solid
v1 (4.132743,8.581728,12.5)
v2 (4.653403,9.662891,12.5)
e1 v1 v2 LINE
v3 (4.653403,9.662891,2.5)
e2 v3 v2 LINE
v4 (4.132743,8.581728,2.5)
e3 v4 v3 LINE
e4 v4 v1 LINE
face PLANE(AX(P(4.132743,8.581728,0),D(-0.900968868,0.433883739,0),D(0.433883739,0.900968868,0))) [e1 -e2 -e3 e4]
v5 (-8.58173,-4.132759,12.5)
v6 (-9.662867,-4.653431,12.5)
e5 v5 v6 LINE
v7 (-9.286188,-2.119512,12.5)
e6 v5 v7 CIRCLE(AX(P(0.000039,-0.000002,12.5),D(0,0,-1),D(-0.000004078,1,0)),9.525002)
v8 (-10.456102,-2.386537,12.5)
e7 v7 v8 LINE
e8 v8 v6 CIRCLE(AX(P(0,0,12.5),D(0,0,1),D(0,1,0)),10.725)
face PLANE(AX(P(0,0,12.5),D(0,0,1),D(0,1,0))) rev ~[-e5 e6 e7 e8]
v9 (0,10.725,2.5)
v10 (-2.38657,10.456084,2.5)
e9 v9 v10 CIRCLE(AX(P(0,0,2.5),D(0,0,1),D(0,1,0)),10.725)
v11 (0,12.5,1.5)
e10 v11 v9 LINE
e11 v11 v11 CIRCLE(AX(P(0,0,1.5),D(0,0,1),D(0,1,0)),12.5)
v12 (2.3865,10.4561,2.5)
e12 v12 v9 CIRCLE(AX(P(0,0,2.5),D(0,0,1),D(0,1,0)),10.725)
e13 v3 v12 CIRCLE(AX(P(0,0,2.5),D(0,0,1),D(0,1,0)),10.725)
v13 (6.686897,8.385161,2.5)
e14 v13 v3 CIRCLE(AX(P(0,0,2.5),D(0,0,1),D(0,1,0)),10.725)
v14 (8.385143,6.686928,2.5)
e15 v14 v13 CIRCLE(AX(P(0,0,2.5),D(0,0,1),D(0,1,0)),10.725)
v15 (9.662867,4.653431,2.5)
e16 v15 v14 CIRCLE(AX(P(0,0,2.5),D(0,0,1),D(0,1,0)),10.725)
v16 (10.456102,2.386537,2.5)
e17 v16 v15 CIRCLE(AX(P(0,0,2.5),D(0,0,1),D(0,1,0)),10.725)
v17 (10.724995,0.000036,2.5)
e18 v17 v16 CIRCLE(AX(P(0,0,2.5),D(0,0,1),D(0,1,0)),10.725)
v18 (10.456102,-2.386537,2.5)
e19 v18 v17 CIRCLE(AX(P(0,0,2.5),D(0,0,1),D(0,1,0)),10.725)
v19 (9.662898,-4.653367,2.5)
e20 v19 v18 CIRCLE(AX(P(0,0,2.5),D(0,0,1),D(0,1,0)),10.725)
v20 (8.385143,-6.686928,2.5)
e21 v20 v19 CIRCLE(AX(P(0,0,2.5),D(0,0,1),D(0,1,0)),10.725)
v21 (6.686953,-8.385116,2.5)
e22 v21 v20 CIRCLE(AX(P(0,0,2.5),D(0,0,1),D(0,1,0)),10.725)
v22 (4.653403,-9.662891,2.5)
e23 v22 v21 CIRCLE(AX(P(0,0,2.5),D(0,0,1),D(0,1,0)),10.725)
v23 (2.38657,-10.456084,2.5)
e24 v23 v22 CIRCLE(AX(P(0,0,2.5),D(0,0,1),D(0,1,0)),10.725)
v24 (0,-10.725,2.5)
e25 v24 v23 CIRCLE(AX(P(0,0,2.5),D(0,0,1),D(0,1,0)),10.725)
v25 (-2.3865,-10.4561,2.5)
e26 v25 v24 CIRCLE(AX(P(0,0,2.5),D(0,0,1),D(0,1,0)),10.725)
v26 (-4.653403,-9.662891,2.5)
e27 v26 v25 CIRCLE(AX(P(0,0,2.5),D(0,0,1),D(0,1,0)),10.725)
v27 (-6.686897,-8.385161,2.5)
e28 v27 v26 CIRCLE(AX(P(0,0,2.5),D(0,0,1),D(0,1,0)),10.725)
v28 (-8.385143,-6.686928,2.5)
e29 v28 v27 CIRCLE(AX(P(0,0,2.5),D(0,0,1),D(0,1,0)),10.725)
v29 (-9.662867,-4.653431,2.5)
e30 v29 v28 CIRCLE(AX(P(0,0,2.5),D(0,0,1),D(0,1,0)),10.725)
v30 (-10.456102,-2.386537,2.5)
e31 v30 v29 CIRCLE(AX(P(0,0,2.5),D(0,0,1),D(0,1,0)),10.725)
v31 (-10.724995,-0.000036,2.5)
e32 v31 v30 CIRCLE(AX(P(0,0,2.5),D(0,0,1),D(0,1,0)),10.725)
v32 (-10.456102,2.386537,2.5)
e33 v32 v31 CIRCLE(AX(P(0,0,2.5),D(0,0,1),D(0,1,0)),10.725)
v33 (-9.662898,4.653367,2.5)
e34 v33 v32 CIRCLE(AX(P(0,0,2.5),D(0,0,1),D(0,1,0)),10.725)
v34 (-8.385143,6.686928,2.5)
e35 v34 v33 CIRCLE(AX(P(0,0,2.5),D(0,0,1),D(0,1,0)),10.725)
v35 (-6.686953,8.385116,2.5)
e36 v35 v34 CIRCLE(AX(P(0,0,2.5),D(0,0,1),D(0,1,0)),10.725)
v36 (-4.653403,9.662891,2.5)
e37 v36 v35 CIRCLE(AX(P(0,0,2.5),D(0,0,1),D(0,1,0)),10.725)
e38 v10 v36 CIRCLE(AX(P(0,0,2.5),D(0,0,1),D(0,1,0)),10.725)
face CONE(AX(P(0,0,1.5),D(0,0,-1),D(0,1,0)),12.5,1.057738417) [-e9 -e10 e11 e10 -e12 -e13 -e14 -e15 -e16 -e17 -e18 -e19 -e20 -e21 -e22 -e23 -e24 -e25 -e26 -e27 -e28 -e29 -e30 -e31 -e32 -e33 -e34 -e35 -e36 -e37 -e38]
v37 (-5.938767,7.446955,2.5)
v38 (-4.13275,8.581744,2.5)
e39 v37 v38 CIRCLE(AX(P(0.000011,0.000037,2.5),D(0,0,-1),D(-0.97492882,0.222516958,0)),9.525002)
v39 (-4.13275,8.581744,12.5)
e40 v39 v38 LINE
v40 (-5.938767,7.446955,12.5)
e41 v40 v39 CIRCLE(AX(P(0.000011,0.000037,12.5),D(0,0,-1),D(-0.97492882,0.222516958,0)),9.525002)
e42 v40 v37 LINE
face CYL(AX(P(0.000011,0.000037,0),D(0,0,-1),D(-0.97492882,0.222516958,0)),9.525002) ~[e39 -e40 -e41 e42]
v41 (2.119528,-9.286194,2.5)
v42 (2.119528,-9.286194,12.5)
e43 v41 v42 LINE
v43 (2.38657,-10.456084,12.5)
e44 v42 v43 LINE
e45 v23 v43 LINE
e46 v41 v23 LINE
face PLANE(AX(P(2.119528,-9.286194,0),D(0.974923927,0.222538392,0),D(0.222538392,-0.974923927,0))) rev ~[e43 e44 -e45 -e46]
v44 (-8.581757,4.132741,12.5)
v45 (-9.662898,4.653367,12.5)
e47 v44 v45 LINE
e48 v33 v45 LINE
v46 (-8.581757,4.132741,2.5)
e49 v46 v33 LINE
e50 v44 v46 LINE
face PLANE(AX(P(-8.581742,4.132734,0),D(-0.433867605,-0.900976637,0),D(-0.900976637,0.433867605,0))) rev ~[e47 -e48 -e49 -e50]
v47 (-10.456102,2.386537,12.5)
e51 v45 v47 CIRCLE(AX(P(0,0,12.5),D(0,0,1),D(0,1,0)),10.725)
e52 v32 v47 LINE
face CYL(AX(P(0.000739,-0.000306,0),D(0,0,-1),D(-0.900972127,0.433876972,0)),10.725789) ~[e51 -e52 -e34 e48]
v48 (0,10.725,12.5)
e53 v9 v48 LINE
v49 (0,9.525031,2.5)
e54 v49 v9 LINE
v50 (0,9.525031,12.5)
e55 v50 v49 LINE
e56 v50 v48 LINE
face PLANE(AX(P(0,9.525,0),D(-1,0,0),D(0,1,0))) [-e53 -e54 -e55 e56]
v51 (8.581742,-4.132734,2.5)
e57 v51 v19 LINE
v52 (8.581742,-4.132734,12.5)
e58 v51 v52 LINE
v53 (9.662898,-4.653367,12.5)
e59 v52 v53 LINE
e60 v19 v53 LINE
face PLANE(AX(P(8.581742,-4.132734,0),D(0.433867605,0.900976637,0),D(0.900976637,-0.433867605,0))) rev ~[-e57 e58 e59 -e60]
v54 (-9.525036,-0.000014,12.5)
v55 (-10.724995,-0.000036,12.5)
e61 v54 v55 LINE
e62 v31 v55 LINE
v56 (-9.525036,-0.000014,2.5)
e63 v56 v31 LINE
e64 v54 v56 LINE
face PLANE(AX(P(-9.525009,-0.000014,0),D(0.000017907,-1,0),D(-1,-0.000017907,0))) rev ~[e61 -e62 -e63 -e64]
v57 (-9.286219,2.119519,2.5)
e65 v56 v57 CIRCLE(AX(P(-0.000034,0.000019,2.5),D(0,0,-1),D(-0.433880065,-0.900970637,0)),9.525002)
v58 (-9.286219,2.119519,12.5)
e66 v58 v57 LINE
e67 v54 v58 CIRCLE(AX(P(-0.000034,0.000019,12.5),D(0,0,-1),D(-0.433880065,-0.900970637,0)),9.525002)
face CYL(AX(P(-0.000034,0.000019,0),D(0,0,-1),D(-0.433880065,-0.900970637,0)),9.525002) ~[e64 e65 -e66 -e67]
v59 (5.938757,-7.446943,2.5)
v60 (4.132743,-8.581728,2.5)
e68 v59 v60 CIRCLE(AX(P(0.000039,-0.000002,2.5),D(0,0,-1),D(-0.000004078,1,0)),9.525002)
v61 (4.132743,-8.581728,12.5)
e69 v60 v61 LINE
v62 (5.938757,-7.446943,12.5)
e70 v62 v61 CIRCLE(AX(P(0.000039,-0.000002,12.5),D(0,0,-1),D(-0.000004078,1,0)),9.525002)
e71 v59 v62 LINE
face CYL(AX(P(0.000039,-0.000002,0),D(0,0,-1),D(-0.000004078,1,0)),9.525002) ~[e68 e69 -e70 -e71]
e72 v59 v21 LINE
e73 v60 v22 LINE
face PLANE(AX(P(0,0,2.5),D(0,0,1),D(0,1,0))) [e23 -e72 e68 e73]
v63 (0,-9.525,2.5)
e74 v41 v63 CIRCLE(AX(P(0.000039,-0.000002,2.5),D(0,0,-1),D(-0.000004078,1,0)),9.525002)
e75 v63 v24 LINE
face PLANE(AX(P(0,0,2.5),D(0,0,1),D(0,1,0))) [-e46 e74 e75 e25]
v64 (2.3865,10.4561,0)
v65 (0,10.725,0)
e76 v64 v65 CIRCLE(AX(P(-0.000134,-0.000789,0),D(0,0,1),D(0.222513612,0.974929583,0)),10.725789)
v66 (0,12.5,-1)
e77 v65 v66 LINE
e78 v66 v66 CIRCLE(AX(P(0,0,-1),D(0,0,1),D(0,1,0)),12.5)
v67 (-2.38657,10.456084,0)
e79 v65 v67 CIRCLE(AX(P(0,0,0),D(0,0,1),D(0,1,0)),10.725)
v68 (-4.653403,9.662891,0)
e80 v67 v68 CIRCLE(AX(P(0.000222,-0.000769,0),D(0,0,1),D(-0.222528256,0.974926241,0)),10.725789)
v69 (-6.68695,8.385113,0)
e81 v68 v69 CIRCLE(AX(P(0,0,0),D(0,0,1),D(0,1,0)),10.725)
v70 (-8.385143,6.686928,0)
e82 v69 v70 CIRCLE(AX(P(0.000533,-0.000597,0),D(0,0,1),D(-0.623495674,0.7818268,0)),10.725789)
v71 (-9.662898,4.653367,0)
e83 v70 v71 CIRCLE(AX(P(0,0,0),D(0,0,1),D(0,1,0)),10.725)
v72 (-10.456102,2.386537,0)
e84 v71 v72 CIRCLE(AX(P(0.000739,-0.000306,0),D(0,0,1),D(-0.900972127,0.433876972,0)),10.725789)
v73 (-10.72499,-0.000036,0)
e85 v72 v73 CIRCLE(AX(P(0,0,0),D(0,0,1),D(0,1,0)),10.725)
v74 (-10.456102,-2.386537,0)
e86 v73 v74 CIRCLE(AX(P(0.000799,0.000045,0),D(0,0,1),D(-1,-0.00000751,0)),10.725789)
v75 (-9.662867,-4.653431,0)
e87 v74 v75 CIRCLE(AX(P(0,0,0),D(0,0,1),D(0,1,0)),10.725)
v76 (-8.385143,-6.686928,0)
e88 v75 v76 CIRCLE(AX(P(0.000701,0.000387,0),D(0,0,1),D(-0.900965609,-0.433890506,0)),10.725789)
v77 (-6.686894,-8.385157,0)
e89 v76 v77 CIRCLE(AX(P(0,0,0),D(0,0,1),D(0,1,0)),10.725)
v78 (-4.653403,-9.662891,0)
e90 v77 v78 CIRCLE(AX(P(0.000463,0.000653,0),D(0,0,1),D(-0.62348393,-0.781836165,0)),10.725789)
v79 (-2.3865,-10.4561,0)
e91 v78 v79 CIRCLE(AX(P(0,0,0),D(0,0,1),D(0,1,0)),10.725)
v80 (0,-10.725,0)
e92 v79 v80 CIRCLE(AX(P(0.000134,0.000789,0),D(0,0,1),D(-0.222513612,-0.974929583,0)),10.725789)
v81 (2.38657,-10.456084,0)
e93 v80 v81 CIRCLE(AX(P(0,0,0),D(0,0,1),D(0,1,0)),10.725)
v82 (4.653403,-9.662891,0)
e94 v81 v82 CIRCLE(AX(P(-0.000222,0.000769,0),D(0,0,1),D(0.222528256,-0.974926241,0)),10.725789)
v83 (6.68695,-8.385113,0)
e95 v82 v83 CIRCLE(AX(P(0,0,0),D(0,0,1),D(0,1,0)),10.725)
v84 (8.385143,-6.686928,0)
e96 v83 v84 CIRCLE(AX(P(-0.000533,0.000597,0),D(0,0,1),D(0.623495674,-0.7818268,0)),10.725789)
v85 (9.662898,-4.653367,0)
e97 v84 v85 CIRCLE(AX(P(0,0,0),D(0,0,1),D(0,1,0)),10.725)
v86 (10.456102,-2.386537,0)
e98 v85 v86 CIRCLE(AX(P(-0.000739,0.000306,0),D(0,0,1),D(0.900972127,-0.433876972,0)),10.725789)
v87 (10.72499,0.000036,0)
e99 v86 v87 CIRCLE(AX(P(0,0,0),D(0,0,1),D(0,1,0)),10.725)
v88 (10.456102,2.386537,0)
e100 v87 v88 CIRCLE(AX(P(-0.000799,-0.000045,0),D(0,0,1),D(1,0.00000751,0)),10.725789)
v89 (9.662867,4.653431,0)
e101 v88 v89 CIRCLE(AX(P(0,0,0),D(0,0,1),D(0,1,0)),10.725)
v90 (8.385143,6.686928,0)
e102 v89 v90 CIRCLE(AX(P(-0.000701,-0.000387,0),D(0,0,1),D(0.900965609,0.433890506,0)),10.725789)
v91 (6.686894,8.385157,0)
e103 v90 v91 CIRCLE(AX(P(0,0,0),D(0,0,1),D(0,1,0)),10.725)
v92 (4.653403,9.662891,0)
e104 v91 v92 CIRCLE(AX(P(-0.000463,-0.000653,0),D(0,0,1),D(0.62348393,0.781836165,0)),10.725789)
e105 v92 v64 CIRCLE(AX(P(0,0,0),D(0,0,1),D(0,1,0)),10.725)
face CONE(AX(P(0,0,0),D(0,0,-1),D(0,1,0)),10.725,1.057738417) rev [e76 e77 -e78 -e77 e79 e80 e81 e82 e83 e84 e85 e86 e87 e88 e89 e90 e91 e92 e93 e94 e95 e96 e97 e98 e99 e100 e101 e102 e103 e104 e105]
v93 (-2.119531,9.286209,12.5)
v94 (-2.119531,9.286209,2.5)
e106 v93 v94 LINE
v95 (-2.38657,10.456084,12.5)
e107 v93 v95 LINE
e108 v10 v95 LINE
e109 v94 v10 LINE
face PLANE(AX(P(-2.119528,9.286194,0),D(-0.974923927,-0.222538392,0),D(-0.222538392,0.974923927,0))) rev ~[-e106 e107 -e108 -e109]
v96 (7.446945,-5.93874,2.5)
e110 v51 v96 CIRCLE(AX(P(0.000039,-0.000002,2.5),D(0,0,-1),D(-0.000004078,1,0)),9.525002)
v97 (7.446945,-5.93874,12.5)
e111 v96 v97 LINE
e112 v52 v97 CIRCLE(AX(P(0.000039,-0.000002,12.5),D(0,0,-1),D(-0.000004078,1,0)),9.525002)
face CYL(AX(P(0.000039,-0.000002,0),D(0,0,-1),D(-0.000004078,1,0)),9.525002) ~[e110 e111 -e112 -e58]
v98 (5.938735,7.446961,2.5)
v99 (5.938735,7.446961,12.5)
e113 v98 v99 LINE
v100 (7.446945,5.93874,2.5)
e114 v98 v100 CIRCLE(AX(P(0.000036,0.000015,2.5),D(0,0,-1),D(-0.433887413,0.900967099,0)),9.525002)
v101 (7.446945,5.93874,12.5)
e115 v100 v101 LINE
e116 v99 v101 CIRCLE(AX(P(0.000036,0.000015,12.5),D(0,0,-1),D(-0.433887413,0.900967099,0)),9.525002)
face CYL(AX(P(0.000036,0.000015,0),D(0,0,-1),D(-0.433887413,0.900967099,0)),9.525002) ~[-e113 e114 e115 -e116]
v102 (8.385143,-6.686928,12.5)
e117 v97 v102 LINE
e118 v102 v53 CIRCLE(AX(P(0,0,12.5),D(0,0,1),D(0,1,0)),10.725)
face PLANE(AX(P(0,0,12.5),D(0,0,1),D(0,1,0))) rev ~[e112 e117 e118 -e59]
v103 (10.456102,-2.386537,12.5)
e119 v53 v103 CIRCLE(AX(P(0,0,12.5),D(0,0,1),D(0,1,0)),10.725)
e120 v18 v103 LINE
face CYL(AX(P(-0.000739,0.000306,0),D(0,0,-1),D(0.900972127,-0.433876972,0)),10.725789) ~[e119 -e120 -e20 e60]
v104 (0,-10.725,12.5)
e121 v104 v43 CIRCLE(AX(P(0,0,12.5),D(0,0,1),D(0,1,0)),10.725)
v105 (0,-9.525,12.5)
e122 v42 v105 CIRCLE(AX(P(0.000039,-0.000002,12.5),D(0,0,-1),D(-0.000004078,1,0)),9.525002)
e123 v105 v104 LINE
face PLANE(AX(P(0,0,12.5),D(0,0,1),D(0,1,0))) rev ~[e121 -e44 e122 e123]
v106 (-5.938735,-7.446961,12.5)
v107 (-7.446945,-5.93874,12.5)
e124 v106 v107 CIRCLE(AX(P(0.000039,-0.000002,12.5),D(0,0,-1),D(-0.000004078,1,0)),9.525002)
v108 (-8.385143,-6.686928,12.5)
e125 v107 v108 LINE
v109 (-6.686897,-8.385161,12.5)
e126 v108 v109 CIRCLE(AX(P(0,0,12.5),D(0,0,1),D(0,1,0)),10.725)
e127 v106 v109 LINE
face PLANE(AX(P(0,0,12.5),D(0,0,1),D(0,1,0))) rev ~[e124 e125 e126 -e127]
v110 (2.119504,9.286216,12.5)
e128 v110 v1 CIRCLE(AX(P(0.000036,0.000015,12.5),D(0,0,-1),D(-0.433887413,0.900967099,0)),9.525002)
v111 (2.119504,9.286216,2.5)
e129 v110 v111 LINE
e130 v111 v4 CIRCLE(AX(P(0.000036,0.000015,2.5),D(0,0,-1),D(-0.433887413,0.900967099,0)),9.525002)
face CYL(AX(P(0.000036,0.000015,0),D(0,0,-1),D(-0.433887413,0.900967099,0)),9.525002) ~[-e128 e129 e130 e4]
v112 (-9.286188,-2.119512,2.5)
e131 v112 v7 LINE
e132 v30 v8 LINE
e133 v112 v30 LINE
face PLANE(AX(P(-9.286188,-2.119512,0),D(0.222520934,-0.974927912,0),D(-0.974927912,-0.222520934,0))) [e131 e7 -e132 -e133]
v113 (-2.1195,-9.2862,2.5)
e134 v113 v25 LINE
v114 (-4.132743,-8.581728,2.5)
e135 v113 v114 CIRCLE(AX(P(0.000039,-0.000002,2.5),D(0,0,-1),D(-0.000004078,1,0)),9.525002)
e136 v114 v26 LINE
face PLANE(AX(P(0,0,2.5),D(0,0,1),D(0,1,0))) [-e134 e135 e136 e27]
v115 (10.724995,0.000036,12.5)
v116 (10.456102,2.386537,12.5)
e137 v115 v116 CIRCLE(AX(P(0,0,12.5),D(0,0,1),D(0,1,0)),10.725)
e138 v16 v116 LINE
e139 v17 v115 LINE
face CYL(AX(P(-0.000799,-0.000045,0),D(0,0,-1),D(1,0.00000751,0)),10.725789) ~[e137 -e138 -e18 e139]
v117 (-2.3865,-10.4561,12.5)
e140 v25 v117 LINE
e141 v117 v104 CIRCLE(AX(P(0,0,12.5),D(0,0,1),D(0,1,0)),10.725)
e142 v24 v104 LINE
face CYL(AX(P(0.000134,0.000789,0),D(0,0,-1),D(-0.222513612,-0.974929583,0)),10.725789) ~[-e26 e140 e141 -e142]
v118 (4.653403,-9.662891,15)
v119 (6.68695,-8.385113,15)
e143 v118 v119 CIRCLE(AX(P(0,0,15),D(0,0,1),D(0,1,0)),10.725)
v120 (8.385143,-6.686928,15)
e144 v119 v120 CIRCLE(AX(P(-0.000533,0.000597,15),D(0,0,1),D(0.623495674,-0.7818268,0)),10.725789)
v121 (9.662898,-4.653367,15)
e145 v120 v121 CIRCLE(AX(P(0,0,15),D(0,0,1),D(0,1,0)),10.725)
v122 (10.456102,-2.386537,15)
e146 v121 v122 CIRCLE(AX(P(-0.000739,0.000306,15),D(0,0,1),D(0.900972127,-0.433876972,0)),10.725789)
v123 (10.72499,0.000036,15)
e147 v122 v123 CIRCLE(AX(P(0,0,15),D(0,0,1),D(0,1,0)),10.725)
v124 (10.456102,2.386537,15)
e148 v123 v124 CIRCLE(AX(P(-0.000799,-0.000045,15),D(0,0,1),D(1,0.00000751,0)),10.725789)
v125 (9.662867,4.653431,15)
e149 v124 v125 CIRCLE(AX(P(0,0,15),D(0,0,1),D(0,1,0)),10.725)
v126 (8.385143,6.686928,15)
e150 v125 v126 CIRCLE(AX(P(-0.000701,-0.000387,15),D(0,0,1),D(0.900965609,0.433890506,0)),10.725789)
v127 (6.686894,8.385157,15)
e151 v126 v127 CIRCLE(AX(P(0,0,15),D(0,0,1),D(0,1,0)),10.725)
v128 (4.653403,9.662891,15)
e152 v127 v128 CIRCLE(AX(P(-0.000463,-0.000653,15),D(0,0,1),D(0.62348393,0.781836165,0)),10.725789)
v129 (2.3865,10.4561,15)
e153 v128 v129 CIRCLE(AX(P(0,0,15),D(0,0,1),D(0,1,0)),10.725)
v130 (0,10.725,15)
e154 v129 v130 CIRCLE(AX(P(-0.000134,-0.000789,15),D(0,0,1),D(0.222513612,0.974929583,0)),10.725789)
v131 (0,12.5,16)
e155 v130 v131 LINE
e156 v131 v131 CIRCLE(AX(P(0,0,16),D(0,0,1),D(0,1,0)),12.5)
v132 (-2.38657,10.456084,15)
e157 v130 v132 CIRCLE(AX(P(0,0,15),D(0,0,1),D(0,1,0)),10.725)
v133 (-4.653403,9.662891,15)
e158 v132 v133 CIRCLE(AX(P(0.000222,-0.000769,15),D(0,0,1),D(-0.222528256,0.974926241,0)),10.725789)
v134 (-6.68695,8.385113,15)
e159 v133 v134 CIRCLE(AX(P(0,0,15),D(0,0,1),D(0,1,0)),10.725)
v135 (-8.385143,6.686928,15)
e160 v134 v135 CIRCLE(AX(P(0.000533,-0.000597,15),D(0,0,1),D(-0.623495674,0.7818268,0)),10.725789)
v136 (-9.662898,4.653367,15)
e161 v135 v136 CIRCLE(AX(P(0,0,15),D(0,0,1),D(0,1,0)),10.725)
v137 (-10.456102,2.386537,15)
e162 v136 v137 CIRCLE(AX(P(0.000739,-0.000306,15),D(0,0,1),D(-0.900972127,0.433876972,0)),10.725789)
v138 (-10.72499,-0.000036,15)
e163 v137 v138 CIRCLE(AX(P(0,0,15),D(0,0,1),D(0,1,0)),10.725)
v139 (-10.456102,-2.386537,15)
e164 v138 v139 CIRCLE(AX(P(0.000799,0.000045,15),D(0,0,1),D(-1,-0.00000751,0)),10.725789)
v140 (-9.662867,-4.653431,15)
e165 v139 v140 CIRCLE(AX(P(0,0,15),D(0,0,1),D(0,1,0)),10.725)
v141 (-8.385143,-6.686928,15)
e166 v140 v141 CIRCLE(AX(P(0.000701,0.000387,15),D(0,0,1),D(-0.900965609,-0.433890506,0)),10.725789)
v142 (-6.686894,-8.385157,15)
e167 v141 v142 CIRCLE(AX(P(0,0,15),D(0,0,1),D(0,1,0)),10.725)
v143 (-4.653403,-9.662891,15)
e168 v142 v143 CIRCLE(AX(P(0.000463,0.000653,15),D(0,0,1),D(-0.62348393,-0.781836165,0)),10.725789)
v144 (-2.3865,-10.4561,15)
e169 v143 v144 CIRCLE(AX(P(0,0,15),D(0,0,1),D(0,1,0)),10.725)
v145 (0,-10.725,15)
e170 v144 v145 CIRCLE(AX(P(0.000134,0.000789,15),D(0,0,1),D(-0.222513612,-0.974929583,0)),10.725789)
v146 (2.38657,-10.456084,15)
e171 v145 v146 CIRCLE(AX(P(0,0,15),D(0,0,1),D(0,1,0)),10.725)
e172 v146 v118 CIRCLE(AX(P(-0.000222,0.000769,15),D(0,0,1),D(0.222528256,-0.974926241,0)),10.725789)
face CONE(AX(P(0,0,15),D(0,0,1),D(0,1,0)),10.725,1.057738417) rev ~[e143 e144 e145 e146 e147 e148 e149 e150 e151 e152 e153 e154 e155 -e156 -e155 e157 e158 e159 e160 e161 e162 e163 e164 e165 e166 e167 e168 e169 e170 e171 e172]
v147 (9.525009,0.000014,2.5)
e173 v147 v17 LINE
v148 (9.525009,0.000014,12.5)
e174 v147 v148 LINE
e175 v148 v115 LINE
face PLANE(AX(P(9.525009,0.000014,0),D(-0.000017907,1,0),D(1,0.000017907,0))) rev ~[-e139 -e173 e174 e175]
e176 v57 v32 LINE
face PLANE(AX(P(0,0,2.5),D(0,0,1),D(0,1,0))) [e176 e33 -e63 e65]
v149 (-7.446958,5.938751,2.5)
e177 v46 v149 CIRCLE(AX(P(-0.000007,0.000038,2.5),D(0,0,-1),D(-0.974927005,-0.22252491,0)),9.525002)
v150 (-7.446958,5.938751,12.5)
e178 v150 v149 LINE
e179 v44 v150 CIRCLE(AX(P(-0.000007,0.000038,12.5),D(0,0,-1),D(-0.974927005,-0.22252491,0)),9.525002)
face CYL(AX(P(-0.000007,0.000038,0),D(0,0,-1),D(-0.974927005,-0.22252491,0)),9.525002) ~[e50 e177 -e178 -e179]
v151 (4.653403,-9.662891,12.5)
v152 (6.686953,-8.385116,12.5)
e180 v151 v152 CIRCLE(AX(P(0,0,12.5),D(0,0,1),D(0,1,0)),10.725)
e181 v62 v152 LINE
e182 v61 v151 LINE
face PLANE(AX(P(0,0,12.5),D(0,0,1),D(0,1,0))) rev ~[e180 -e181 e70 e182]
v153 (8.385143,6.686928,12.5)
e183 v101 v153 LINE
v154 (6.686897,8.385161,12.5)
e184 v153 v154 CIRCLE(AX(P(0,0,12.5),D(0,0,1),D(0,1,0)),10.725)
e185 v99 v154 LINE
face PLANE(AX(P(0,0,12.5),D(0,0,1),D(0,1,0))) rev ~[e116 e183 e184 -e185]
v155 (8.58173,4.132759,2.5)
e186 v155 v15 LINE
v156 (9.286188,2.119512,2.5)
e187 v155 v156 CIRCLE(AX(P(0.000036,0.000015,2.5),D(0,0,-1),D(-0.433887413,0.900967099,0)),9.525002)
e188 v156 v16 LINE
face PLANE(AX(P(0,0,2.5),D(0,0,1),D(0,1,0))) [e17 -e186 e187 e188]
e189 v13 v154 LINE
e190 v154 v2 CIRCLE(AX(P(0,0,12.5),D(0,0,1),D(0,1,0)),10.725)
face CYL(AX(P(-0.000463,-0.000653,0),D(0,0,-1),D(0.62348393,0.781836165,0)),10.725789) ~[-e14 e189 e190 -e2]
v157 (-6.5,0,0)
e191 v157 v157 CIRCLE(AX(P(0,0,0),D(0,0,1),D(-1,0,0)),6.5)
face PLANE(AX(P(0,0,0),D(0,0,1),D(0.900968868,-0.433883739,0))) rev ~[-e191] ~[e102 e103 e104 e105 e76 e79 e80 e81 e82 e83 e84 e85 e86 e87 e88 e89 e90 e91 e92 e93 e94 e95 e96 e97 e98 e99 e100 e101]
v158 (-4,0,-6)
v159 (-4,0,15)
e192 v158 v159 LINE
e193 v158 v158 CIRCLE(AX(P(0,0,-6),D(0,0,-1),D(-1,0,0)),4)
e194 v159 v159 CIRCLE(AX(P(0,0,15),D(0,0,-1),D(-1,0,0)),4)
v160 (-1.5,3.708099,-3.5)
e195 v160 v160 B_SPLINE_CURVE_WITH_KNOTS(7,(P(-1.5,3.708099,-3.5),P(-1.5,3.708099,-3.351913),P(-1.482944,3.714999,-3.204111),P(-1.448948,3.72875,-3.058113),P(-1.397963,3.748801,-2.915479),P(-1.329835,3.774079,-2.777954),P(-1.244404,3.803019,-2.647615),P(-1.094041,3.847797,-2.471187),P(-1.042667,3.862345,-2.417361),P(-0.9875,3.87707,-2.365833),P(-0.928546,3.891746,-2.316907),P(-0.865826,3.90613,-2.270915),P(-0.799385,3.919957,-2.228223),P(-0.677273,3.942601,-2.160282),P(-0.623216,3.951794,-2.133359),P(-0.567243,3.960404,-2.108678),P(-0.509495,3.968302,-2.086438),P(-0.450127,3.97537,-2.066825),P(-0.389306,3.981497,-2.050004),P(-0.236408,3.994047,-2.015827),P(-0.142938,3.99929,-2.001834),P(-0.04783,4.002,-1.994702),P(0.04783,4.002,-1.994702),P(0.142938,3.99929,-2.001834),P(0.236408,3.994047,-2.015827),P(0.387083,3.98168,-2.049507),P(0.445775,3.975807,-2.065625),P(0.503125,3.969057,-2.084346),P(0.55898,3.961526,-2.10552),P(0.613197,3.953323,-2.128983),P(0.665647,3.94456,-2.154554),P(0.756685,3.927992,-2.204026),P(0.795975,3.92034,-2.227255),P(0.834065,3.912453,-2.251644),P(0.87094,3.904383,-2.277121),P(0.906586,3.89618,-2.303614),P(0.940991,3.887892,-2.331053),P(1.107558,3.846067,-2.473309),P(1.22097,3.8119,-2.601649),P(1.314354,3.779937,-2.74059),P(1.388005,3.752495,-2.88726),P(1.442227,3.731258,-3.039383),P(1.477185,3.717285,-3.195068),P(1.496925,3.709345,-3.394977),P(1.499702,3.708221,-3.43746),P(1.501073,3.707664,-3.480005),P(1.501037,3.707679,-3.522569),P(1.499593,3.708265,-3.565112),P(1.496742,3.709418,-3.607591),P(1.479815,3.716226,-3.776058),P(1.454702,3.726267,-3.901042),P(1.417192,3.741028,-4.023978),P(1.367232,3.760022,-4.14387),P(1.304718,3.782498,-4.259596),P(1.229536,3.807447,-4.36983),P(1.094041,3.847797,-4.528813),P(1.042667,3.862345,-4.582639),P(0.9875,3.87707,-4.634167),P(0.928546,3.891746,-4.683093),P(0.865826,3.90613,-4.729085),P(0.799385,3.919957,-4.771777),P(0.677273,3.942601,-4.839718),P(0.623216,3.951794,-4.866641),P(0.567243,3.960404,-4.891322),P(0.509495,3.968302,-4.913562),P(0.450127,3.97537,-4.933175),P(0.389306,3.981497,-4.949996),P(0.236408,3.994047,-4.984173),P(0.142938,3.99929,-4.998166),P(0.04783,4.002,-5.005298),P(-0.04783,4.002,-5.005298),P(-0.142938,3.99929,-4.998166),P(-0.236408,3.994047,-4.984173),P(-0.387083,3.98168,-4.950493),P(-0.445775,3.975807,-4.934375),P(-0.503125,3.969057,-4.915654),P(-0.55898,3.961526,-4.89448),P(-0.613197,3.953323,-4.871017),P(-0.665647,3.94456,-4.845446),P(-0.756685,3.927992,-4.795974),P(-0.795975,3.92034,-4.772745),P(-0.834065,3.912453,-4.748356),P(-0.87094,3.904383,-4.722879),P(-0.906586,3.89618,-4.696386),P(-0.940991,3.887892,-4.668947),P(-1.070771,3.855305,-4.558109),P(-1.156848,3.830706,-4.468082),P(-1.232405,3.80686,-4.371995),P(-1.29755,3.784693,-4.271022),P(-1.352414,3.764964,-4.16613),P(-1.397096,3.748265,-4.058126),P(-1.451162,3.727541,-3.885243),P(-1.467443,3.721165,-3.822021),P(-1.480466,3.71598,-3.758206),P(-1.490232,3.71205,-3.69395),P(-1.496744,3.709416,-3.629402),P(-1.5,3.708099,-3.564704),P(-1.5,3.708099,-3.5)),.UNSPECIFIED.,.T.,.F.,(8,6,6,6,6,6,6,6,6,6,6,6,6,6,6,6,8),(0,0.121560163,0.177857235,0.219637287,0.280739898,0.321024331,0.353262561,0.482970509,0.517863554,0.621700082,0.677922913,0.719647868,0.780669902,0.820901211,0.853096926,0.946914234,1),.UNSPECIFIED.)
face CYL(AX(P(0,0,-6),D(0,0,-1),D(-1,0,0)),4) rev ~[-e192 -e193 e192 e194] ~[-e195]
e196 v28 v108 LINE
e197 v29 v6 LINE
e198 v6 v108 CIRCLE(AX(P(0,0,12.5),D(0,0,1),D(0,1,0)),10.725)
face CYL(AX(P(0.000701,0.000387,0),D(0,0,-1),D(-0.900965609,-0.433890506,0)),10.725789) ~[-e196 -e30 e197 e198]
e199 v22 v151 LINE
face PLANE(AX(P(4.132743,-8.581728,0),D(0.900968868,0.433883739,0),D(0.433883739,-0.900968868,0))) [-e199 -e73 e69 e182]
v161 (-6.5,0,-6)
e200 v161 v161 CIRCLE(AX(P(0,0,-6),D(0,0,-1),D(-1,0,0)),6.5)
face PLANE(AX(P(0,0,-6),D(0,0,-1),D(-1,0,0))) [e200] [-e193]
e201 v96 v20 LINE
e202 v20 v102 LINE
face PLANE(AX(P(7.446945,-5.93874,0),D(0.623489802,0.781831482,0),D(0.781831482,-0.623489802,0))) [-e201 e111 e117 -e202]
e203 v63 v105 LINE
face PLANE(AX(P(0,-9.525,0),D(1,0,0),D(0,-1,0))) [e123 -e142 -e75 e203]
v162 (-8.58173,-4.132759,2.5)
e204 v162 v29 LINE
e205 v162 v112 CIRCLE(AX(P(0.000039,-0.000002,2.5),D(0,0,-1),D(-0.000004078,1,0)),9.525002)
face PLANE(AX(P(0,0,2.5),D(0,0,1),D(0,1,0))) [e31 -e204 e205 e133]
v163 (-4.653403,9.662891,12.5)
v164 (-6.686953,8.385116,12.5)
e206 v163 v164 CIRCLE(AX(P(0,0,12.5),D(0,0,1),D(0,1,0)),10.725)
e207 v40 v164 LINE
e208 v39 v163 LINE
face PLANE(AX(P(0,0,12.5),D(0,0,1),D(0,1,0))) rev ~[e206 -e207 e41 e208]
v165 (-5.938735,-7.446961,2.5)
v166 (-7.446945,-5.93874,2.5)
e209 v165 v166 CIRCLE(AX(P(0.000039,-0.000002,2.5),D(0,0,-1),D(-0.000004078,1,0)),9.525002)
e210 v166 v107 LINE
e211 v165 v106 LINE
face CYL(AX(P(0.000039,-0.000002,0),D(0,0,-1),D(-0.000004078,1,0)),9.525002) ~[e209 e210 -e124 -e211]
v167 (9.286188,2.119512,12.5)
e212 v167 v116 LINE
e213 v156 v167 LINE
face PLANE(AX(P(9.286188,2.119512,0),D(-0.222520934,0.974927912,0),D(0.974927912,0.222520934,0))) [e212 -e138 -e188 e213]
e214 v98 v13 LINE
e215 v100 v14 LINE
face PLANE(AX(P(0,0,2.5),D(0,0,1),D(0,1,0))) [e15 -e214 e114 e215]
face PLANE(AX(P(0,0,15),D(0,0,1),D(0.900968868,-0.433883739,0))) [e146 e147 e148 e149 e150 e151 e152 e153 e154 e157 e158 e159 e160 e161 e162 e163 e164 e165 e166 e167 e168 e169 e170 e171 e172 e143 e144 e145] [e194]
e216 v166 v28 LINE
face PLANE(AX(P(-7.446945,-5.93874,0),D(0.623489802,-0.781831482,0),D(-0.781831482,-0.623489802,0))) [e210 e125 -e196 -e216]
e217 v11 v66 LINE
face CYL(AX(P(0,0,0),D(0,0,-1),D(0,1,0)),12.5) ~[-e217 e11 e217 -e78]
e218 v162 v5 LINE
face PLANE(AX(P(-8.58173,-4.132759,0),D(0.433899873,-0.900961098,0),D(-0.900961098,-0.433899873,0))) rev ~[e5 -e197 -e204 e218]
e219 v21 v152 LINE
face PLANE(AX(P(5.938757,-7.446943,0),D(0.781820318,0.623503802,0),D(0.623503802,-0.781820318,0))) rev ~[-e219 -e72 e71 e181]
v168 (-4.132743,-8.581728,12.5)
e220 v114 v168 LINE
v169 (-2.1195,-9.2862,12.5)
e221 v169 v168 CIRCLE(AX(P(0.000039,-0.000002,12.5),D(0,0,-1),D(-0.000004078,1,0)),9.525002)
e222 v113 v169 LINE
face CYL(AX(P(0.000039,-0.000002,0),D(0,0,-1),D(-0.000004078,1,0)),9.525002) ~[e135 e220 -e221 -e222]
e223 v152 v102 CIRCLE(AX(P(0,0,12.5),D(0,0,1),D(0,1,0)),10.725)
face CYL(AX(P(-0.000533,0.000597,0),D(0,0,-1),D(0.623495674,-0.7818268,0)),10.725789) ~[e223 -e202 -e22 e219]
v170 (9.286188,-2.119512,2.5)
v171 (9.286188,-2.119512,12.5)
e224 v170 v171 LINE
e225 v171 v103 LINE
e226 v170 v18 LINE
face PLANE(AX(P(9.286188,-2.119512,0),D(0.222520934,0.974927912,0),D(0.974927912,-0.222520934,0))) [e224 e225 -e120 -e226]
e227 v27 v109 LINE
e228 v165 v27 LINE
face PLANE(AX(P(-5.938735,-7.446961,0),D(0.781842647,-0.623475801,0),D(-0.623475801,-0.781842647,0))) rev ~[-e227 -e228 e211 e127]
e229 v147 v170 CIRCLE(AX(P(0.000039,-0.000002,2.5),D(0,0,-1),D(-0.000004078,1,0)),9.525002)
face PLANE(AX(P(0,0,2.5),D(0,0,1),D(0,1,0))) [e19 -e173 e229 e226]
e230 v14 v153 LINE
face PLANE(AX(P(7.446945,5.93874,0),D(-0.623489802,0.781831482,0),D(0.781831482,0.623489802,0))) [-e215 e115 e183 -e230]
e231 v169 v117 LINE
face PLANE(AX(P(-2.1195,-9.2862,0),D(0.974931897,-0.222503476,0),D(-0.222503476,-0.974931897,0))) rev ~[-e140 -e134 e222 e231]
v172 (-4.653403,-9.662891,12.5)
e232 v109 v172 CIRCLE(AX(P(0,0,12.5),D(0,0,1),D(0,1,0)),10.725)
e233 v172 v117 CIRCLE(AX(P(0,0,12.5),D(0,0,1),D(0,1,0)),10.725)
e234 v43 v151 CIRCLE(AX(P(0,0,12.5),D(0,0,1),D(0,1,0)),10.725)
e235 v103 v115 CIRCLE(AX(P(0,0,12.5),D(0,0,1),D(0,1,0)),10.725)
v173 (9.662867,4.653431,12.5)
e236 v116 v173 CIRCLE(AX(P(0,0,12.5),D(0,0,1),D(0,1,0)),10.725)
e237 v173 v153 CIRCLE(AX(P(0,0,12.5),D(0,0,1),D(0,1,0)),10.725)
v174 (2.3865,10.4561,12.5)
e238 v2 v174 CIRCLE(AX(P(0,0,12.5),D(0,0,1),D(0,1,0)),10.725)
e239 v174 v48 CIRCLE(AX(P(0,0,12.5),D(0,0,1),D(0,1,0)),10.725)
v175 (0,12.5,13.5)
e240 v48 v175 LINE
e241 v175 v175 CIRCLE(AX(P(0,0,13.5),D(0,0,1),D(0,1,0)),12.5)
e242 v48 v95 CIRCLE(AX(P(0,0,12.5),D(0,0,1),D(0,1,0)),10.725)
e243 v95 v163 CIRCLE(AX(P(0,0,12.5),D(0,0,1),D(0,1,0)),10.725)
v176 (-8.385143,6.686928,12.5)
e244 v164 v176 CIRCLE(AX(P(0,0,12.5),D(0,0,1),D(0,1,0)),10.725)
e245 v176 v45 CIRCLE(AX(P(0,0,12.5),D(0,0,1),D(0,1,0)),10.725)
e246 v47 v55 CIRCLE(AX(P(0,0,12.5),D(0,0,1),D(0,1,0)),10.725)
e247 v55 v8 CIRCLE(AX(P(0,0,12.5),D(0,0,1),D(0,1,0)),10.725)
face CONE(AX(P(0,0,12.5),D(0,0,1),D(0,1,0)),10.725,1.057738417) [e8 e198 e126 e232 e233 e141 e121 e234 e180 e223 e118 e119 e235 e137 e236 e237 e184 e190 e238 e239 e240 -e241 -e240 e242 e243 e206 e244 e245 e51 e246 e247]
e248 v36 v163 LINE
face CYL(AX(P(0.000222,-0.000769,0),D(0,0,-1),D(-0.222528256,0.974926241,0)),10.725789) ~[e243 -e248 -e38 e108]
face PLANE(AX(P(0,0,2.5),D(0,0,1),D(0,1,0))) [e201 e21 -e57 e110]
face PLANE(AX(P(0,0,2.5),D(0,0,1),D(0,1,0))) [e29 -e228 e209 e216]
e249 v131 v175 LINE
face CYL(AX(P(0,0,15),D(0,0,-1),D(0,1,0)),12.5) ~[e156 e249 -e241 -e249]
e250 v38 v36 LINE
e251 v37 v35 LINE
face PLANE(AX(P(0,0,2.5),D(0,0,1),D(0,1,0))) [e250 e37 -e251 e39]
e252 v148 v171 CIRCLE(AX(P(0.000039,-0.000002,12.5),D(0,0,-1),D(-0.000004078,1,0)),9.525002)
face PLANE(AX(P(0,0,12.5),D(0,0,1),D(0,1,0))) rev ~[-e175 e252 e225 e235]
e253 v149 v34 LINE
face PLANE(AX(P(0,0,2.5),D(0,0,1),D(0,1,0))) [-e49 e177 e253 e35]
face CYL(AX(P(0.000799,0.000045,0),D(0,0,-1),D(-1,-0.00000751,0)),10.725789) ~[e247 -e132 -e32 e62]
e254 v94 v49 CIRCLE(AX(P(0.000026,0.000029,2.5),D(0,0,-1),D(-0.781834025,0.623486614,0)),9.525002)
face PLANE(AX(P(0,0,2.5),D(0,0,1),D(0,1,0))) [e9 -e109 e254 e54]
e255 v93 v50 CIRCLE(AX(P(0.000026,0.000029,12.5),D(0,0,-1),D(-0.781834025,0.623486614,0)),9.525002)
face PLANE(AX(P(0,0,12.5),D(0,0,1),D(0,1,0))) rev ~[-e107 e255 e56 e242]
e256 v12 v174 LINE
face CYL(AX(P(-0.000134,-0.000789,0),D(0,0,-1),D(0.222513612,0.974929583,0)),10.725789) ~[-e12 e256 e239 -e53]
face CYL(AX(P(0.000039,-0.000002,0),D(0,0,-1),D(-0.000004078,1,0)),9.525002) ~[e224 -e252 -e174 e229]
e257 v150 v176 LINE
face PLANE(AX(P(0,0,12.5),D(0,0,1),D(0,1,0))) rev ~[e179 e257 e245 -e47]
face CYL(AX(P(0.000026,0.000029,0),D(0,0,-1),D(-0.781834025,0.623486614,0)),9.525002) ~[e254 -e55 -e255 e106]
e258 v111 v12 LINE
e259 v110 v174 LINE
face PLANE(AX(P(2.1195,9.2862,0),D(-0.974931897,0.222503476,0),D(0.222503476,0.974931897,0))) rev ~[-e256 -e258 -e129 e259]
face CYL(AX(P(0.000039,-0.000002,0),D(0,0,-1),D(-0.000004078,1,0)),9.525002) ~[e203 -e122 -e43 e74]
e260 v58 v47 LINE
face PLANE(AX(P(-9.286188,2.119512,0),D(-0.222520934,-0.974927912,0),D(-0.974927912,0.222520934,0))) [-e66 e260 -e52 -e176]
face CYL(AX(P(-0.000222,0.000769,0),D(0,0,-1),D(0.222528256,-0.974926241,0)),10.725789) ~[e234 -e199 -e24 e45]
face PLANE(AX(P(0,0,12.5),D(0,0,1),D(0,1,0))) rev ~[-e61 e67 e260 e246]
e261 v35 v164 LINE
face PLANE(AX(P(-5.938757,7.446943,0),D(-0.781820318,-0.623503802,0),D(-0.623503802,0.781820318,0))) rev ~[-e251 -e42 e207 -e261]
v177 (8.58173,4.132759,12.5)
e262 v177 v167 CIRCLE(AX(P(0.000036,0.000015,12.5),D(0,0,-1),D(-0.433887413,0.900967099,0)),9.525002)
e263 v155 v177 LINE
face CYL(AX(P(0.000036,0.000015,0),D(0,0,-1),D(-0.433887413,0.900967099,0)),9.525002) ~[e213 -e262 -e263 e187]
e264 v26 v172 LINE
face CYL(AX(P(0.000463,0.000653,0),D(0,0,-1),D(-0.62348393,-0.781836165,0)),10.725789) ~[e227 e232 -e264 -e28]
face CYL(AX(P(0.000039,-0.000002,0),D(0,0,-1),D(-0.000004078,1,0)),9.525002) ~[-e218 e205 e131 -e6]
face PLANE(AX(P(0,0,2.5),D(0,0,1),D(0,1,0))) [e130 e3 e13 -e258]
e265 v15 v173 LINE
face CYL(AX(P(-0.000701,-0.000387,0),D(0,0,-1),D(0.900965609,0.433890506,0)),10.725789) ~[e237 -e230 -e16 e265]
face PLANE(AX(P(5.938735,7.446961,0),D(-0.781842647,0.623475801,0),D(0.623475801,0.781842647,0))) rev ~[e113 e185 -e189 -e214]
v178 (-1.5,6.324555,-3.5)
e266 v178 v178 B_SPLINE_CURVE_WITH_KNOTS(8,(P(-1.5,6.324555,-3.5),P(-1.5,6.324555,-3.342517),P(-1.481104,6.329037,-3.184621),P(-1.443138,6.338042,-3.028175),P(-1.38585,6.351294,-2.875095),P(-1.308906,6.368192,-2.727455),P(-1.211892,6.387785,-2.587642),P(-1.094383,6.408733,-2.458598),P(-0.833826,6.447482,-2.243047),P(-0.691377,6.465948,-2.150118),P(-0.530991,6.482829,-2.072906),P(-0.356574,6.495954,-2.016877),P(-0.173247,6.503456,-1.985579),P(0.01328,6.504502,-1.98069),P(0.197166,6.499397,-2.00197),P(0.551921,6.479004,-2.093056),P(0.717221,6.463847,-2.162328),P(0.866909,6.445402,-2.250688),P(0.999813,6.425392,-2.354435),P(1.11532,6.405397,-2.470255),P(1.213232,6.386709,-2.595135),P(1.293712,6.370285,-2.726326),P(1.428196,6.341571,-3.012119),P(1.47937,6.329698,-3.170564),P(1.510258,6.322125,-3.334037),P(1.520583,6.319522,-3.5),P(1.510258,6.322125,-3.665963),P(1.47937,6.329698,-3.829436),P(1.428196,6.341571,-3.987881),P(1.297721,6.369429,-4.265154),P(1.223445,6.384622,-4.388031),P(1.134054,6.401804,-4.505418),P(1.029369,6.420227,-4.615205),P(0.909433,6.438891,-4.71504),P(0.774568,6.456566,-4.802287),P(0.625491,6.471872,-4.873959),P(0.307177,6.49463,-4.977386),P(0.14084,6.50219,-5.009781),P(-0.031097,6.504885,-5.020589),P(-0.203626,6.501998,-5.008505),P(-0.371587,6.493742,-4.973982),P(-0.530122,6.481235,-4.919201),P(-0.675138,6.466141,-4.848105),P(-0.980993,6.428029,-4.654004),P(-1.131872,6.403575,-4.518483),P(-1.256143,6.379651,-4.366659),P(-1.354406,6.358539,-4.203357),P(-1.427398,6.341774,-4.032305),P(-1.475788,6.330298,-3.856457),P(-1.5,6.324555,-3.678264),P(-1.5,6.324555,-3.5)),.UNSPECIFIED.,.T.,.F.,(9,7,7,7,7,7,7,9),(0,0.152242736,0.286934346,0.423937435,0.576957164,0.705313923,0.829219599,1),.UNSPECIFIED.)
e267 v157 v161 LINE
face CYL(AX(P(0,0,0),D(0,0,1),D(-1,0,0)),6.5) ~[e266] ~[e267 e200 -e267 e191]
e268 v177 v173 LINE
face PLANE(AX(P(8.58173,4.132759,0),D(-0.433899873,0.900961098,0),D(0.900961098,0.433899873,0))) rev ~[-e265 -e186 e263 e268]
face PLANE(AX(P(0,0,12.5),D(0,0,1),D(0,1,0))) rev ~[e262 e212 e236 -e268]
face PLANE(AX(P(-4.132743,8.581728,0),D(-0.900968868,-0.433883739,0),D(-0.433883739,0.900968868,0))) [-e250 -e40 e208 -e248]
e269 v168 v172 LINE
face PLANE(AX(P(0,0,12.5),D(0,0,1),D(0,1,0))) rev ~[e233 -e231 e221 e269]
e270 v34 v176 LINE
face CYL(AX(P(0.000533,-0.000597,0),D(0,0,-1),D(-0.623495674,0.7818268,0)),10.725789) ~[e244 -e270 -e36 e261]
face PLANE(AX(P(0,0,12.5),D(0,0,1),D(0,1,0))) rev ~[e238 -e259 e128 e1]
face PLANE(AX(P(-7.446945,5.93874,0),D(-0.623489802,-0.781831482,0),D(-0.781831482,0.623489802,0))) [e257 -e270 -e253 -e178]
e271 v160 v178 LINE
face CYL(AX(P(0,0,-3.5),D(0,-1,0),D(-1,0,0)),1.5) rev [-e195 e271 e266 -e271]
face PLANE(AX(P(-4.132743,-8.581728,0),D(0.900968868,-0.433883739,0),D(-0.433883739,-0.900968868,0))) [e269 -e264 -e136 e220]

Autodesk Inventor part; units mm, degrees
ref_plane "YZ Plane" through (0, 0, 0) normal (1, 0, 0) x (0, 1, 0)
ref_plane "XZ Plane" through (0, 0, 0) normal (0, 1, 0) x (-1, 0, 0)
ref_plane "XY Plane" through (0, 0, 0) normal (0, 0, 1) x (1, 0, 0)
sketch "Szkic1" plane through (0, 0, 0) normal (0, 0, 1) x (1, 0, 0)
  arc A0 (2.3865, 10.4561) -> (0, 10.725) centre (0, 0) ccw
  arc A1 (0, 9.525) -> (2.1195, 9.2862) centre (0, 0) ccw
  line L0 (0, 9.525) -> (0, 10.725)
  line L1 (2.1195, 9.2862) -> (2.3865, 10.4561)
extrude "Wyciągnięcie proste1" add sketch "Szkic1" along normal blind 15
pattern_circular "Szyk kołowy1" count 14 over 360 about axis through (0, 0, 0) along (0, 0, 1) of "Wyciągnięcie proste1"
sketch "Szkic2" plane through (0, 0, 0) normal (0, 0, -1) x (-1, 0, 0)
  circle A0 centre (0, 0) radius 6.5
  dimension "d8" = 13
extrude "Wyciągnięcie proste2" add sketch "Szkic2" along normal blind 6
sketch "Szkic3" plane through (0, 0, 0) normal (1, 0, 0) x (0, 1, 0)
  line L0 (0, 15) -> (-2.1195, 15) projected
  line L1 (0, 15) -> (10.725, 15)
  line L2 (12.5, 15) -> (12.5, 13.5)
  line L3 (10.725, 12.5) -> (0, 12.5)
  line L4 (0, 12.5) -> (0, 15)
  line L5 (6.5, 0) -> (-6.5, 0) projected
  line L6 (12.5, 0) -> (12.5, 1.5)
  line L7 (10.725, 2.5) -> (0, 2.5)
  line L8 (0, 0) -> (0, 15) projected
  line L9 (0, 0) -> (0, 2.5)
  line L10 (12.5, 0) -> (12.5, -1)
  line L11 (9.525, 0) -> (10.725, 0) projected
  line L12 (10.725, 0) -> (12.5, -1)
  line L13 (12.5, 1.5) -> (10.725, 2.5)
  line L14 (10.725, 0) -> (0, 0)
  line L15 (12.5, 15) -> (12.5, 16)
  line L16 (10.725, 15) -> (12.5, 16)
  line L17 (10.725, 12.5) -> (12.5, 13.5)
  point P0 (0, 0)
revolve "Obrót1" add sketch "Szkic3" angle 360 about axis through (0, 0, 0) along (0, 0, 1)
sketch "Szkic4" plane through (0, 0, -6) normal (0, 0, -1) x (-1, 0, 0)
  circle A0 centre (0, 0) radius 4
  dimension "d22" = 8
extrude "Wyciągnięcie proste3" cut sketch "Szkic4" against normal up to next
sketch "Szkic5" plane through (0, 0, 0) normal (0, 1, 0) x (-1, 0, 0)
  line L0 (-12.5, -1) -> (12.5, -1) projected
  line L1 (-6.5, -6) -> (6.5, -6) projected
  line L2 (6.5, 0) -> (6.5, -6) projected
  line L3 (-6.5, 0) -> (-6.5, -6) projected
  line L4 (6.5, -6) -> (-6.5, -1)
  line L5 (6.5, -1) -> (-6.5, -6)
  circle A0 centre (0, -3.5) radius 1.5
  point P0 (0, 0)
  dimension "d25" = 3
extrude "Wyciągnięcie proste4" cut sketch "Szkic5" along normal up to next contours A0 L5 L4 | L4 L5 A0 | A0 L4 L5 | L5 L4 A0
thread "Gwint1" size "M3x0.5" class "6H" standard "ANSI Metric M Profile" full length
properties part number "Koło zębate 21 T5 14 2F"
